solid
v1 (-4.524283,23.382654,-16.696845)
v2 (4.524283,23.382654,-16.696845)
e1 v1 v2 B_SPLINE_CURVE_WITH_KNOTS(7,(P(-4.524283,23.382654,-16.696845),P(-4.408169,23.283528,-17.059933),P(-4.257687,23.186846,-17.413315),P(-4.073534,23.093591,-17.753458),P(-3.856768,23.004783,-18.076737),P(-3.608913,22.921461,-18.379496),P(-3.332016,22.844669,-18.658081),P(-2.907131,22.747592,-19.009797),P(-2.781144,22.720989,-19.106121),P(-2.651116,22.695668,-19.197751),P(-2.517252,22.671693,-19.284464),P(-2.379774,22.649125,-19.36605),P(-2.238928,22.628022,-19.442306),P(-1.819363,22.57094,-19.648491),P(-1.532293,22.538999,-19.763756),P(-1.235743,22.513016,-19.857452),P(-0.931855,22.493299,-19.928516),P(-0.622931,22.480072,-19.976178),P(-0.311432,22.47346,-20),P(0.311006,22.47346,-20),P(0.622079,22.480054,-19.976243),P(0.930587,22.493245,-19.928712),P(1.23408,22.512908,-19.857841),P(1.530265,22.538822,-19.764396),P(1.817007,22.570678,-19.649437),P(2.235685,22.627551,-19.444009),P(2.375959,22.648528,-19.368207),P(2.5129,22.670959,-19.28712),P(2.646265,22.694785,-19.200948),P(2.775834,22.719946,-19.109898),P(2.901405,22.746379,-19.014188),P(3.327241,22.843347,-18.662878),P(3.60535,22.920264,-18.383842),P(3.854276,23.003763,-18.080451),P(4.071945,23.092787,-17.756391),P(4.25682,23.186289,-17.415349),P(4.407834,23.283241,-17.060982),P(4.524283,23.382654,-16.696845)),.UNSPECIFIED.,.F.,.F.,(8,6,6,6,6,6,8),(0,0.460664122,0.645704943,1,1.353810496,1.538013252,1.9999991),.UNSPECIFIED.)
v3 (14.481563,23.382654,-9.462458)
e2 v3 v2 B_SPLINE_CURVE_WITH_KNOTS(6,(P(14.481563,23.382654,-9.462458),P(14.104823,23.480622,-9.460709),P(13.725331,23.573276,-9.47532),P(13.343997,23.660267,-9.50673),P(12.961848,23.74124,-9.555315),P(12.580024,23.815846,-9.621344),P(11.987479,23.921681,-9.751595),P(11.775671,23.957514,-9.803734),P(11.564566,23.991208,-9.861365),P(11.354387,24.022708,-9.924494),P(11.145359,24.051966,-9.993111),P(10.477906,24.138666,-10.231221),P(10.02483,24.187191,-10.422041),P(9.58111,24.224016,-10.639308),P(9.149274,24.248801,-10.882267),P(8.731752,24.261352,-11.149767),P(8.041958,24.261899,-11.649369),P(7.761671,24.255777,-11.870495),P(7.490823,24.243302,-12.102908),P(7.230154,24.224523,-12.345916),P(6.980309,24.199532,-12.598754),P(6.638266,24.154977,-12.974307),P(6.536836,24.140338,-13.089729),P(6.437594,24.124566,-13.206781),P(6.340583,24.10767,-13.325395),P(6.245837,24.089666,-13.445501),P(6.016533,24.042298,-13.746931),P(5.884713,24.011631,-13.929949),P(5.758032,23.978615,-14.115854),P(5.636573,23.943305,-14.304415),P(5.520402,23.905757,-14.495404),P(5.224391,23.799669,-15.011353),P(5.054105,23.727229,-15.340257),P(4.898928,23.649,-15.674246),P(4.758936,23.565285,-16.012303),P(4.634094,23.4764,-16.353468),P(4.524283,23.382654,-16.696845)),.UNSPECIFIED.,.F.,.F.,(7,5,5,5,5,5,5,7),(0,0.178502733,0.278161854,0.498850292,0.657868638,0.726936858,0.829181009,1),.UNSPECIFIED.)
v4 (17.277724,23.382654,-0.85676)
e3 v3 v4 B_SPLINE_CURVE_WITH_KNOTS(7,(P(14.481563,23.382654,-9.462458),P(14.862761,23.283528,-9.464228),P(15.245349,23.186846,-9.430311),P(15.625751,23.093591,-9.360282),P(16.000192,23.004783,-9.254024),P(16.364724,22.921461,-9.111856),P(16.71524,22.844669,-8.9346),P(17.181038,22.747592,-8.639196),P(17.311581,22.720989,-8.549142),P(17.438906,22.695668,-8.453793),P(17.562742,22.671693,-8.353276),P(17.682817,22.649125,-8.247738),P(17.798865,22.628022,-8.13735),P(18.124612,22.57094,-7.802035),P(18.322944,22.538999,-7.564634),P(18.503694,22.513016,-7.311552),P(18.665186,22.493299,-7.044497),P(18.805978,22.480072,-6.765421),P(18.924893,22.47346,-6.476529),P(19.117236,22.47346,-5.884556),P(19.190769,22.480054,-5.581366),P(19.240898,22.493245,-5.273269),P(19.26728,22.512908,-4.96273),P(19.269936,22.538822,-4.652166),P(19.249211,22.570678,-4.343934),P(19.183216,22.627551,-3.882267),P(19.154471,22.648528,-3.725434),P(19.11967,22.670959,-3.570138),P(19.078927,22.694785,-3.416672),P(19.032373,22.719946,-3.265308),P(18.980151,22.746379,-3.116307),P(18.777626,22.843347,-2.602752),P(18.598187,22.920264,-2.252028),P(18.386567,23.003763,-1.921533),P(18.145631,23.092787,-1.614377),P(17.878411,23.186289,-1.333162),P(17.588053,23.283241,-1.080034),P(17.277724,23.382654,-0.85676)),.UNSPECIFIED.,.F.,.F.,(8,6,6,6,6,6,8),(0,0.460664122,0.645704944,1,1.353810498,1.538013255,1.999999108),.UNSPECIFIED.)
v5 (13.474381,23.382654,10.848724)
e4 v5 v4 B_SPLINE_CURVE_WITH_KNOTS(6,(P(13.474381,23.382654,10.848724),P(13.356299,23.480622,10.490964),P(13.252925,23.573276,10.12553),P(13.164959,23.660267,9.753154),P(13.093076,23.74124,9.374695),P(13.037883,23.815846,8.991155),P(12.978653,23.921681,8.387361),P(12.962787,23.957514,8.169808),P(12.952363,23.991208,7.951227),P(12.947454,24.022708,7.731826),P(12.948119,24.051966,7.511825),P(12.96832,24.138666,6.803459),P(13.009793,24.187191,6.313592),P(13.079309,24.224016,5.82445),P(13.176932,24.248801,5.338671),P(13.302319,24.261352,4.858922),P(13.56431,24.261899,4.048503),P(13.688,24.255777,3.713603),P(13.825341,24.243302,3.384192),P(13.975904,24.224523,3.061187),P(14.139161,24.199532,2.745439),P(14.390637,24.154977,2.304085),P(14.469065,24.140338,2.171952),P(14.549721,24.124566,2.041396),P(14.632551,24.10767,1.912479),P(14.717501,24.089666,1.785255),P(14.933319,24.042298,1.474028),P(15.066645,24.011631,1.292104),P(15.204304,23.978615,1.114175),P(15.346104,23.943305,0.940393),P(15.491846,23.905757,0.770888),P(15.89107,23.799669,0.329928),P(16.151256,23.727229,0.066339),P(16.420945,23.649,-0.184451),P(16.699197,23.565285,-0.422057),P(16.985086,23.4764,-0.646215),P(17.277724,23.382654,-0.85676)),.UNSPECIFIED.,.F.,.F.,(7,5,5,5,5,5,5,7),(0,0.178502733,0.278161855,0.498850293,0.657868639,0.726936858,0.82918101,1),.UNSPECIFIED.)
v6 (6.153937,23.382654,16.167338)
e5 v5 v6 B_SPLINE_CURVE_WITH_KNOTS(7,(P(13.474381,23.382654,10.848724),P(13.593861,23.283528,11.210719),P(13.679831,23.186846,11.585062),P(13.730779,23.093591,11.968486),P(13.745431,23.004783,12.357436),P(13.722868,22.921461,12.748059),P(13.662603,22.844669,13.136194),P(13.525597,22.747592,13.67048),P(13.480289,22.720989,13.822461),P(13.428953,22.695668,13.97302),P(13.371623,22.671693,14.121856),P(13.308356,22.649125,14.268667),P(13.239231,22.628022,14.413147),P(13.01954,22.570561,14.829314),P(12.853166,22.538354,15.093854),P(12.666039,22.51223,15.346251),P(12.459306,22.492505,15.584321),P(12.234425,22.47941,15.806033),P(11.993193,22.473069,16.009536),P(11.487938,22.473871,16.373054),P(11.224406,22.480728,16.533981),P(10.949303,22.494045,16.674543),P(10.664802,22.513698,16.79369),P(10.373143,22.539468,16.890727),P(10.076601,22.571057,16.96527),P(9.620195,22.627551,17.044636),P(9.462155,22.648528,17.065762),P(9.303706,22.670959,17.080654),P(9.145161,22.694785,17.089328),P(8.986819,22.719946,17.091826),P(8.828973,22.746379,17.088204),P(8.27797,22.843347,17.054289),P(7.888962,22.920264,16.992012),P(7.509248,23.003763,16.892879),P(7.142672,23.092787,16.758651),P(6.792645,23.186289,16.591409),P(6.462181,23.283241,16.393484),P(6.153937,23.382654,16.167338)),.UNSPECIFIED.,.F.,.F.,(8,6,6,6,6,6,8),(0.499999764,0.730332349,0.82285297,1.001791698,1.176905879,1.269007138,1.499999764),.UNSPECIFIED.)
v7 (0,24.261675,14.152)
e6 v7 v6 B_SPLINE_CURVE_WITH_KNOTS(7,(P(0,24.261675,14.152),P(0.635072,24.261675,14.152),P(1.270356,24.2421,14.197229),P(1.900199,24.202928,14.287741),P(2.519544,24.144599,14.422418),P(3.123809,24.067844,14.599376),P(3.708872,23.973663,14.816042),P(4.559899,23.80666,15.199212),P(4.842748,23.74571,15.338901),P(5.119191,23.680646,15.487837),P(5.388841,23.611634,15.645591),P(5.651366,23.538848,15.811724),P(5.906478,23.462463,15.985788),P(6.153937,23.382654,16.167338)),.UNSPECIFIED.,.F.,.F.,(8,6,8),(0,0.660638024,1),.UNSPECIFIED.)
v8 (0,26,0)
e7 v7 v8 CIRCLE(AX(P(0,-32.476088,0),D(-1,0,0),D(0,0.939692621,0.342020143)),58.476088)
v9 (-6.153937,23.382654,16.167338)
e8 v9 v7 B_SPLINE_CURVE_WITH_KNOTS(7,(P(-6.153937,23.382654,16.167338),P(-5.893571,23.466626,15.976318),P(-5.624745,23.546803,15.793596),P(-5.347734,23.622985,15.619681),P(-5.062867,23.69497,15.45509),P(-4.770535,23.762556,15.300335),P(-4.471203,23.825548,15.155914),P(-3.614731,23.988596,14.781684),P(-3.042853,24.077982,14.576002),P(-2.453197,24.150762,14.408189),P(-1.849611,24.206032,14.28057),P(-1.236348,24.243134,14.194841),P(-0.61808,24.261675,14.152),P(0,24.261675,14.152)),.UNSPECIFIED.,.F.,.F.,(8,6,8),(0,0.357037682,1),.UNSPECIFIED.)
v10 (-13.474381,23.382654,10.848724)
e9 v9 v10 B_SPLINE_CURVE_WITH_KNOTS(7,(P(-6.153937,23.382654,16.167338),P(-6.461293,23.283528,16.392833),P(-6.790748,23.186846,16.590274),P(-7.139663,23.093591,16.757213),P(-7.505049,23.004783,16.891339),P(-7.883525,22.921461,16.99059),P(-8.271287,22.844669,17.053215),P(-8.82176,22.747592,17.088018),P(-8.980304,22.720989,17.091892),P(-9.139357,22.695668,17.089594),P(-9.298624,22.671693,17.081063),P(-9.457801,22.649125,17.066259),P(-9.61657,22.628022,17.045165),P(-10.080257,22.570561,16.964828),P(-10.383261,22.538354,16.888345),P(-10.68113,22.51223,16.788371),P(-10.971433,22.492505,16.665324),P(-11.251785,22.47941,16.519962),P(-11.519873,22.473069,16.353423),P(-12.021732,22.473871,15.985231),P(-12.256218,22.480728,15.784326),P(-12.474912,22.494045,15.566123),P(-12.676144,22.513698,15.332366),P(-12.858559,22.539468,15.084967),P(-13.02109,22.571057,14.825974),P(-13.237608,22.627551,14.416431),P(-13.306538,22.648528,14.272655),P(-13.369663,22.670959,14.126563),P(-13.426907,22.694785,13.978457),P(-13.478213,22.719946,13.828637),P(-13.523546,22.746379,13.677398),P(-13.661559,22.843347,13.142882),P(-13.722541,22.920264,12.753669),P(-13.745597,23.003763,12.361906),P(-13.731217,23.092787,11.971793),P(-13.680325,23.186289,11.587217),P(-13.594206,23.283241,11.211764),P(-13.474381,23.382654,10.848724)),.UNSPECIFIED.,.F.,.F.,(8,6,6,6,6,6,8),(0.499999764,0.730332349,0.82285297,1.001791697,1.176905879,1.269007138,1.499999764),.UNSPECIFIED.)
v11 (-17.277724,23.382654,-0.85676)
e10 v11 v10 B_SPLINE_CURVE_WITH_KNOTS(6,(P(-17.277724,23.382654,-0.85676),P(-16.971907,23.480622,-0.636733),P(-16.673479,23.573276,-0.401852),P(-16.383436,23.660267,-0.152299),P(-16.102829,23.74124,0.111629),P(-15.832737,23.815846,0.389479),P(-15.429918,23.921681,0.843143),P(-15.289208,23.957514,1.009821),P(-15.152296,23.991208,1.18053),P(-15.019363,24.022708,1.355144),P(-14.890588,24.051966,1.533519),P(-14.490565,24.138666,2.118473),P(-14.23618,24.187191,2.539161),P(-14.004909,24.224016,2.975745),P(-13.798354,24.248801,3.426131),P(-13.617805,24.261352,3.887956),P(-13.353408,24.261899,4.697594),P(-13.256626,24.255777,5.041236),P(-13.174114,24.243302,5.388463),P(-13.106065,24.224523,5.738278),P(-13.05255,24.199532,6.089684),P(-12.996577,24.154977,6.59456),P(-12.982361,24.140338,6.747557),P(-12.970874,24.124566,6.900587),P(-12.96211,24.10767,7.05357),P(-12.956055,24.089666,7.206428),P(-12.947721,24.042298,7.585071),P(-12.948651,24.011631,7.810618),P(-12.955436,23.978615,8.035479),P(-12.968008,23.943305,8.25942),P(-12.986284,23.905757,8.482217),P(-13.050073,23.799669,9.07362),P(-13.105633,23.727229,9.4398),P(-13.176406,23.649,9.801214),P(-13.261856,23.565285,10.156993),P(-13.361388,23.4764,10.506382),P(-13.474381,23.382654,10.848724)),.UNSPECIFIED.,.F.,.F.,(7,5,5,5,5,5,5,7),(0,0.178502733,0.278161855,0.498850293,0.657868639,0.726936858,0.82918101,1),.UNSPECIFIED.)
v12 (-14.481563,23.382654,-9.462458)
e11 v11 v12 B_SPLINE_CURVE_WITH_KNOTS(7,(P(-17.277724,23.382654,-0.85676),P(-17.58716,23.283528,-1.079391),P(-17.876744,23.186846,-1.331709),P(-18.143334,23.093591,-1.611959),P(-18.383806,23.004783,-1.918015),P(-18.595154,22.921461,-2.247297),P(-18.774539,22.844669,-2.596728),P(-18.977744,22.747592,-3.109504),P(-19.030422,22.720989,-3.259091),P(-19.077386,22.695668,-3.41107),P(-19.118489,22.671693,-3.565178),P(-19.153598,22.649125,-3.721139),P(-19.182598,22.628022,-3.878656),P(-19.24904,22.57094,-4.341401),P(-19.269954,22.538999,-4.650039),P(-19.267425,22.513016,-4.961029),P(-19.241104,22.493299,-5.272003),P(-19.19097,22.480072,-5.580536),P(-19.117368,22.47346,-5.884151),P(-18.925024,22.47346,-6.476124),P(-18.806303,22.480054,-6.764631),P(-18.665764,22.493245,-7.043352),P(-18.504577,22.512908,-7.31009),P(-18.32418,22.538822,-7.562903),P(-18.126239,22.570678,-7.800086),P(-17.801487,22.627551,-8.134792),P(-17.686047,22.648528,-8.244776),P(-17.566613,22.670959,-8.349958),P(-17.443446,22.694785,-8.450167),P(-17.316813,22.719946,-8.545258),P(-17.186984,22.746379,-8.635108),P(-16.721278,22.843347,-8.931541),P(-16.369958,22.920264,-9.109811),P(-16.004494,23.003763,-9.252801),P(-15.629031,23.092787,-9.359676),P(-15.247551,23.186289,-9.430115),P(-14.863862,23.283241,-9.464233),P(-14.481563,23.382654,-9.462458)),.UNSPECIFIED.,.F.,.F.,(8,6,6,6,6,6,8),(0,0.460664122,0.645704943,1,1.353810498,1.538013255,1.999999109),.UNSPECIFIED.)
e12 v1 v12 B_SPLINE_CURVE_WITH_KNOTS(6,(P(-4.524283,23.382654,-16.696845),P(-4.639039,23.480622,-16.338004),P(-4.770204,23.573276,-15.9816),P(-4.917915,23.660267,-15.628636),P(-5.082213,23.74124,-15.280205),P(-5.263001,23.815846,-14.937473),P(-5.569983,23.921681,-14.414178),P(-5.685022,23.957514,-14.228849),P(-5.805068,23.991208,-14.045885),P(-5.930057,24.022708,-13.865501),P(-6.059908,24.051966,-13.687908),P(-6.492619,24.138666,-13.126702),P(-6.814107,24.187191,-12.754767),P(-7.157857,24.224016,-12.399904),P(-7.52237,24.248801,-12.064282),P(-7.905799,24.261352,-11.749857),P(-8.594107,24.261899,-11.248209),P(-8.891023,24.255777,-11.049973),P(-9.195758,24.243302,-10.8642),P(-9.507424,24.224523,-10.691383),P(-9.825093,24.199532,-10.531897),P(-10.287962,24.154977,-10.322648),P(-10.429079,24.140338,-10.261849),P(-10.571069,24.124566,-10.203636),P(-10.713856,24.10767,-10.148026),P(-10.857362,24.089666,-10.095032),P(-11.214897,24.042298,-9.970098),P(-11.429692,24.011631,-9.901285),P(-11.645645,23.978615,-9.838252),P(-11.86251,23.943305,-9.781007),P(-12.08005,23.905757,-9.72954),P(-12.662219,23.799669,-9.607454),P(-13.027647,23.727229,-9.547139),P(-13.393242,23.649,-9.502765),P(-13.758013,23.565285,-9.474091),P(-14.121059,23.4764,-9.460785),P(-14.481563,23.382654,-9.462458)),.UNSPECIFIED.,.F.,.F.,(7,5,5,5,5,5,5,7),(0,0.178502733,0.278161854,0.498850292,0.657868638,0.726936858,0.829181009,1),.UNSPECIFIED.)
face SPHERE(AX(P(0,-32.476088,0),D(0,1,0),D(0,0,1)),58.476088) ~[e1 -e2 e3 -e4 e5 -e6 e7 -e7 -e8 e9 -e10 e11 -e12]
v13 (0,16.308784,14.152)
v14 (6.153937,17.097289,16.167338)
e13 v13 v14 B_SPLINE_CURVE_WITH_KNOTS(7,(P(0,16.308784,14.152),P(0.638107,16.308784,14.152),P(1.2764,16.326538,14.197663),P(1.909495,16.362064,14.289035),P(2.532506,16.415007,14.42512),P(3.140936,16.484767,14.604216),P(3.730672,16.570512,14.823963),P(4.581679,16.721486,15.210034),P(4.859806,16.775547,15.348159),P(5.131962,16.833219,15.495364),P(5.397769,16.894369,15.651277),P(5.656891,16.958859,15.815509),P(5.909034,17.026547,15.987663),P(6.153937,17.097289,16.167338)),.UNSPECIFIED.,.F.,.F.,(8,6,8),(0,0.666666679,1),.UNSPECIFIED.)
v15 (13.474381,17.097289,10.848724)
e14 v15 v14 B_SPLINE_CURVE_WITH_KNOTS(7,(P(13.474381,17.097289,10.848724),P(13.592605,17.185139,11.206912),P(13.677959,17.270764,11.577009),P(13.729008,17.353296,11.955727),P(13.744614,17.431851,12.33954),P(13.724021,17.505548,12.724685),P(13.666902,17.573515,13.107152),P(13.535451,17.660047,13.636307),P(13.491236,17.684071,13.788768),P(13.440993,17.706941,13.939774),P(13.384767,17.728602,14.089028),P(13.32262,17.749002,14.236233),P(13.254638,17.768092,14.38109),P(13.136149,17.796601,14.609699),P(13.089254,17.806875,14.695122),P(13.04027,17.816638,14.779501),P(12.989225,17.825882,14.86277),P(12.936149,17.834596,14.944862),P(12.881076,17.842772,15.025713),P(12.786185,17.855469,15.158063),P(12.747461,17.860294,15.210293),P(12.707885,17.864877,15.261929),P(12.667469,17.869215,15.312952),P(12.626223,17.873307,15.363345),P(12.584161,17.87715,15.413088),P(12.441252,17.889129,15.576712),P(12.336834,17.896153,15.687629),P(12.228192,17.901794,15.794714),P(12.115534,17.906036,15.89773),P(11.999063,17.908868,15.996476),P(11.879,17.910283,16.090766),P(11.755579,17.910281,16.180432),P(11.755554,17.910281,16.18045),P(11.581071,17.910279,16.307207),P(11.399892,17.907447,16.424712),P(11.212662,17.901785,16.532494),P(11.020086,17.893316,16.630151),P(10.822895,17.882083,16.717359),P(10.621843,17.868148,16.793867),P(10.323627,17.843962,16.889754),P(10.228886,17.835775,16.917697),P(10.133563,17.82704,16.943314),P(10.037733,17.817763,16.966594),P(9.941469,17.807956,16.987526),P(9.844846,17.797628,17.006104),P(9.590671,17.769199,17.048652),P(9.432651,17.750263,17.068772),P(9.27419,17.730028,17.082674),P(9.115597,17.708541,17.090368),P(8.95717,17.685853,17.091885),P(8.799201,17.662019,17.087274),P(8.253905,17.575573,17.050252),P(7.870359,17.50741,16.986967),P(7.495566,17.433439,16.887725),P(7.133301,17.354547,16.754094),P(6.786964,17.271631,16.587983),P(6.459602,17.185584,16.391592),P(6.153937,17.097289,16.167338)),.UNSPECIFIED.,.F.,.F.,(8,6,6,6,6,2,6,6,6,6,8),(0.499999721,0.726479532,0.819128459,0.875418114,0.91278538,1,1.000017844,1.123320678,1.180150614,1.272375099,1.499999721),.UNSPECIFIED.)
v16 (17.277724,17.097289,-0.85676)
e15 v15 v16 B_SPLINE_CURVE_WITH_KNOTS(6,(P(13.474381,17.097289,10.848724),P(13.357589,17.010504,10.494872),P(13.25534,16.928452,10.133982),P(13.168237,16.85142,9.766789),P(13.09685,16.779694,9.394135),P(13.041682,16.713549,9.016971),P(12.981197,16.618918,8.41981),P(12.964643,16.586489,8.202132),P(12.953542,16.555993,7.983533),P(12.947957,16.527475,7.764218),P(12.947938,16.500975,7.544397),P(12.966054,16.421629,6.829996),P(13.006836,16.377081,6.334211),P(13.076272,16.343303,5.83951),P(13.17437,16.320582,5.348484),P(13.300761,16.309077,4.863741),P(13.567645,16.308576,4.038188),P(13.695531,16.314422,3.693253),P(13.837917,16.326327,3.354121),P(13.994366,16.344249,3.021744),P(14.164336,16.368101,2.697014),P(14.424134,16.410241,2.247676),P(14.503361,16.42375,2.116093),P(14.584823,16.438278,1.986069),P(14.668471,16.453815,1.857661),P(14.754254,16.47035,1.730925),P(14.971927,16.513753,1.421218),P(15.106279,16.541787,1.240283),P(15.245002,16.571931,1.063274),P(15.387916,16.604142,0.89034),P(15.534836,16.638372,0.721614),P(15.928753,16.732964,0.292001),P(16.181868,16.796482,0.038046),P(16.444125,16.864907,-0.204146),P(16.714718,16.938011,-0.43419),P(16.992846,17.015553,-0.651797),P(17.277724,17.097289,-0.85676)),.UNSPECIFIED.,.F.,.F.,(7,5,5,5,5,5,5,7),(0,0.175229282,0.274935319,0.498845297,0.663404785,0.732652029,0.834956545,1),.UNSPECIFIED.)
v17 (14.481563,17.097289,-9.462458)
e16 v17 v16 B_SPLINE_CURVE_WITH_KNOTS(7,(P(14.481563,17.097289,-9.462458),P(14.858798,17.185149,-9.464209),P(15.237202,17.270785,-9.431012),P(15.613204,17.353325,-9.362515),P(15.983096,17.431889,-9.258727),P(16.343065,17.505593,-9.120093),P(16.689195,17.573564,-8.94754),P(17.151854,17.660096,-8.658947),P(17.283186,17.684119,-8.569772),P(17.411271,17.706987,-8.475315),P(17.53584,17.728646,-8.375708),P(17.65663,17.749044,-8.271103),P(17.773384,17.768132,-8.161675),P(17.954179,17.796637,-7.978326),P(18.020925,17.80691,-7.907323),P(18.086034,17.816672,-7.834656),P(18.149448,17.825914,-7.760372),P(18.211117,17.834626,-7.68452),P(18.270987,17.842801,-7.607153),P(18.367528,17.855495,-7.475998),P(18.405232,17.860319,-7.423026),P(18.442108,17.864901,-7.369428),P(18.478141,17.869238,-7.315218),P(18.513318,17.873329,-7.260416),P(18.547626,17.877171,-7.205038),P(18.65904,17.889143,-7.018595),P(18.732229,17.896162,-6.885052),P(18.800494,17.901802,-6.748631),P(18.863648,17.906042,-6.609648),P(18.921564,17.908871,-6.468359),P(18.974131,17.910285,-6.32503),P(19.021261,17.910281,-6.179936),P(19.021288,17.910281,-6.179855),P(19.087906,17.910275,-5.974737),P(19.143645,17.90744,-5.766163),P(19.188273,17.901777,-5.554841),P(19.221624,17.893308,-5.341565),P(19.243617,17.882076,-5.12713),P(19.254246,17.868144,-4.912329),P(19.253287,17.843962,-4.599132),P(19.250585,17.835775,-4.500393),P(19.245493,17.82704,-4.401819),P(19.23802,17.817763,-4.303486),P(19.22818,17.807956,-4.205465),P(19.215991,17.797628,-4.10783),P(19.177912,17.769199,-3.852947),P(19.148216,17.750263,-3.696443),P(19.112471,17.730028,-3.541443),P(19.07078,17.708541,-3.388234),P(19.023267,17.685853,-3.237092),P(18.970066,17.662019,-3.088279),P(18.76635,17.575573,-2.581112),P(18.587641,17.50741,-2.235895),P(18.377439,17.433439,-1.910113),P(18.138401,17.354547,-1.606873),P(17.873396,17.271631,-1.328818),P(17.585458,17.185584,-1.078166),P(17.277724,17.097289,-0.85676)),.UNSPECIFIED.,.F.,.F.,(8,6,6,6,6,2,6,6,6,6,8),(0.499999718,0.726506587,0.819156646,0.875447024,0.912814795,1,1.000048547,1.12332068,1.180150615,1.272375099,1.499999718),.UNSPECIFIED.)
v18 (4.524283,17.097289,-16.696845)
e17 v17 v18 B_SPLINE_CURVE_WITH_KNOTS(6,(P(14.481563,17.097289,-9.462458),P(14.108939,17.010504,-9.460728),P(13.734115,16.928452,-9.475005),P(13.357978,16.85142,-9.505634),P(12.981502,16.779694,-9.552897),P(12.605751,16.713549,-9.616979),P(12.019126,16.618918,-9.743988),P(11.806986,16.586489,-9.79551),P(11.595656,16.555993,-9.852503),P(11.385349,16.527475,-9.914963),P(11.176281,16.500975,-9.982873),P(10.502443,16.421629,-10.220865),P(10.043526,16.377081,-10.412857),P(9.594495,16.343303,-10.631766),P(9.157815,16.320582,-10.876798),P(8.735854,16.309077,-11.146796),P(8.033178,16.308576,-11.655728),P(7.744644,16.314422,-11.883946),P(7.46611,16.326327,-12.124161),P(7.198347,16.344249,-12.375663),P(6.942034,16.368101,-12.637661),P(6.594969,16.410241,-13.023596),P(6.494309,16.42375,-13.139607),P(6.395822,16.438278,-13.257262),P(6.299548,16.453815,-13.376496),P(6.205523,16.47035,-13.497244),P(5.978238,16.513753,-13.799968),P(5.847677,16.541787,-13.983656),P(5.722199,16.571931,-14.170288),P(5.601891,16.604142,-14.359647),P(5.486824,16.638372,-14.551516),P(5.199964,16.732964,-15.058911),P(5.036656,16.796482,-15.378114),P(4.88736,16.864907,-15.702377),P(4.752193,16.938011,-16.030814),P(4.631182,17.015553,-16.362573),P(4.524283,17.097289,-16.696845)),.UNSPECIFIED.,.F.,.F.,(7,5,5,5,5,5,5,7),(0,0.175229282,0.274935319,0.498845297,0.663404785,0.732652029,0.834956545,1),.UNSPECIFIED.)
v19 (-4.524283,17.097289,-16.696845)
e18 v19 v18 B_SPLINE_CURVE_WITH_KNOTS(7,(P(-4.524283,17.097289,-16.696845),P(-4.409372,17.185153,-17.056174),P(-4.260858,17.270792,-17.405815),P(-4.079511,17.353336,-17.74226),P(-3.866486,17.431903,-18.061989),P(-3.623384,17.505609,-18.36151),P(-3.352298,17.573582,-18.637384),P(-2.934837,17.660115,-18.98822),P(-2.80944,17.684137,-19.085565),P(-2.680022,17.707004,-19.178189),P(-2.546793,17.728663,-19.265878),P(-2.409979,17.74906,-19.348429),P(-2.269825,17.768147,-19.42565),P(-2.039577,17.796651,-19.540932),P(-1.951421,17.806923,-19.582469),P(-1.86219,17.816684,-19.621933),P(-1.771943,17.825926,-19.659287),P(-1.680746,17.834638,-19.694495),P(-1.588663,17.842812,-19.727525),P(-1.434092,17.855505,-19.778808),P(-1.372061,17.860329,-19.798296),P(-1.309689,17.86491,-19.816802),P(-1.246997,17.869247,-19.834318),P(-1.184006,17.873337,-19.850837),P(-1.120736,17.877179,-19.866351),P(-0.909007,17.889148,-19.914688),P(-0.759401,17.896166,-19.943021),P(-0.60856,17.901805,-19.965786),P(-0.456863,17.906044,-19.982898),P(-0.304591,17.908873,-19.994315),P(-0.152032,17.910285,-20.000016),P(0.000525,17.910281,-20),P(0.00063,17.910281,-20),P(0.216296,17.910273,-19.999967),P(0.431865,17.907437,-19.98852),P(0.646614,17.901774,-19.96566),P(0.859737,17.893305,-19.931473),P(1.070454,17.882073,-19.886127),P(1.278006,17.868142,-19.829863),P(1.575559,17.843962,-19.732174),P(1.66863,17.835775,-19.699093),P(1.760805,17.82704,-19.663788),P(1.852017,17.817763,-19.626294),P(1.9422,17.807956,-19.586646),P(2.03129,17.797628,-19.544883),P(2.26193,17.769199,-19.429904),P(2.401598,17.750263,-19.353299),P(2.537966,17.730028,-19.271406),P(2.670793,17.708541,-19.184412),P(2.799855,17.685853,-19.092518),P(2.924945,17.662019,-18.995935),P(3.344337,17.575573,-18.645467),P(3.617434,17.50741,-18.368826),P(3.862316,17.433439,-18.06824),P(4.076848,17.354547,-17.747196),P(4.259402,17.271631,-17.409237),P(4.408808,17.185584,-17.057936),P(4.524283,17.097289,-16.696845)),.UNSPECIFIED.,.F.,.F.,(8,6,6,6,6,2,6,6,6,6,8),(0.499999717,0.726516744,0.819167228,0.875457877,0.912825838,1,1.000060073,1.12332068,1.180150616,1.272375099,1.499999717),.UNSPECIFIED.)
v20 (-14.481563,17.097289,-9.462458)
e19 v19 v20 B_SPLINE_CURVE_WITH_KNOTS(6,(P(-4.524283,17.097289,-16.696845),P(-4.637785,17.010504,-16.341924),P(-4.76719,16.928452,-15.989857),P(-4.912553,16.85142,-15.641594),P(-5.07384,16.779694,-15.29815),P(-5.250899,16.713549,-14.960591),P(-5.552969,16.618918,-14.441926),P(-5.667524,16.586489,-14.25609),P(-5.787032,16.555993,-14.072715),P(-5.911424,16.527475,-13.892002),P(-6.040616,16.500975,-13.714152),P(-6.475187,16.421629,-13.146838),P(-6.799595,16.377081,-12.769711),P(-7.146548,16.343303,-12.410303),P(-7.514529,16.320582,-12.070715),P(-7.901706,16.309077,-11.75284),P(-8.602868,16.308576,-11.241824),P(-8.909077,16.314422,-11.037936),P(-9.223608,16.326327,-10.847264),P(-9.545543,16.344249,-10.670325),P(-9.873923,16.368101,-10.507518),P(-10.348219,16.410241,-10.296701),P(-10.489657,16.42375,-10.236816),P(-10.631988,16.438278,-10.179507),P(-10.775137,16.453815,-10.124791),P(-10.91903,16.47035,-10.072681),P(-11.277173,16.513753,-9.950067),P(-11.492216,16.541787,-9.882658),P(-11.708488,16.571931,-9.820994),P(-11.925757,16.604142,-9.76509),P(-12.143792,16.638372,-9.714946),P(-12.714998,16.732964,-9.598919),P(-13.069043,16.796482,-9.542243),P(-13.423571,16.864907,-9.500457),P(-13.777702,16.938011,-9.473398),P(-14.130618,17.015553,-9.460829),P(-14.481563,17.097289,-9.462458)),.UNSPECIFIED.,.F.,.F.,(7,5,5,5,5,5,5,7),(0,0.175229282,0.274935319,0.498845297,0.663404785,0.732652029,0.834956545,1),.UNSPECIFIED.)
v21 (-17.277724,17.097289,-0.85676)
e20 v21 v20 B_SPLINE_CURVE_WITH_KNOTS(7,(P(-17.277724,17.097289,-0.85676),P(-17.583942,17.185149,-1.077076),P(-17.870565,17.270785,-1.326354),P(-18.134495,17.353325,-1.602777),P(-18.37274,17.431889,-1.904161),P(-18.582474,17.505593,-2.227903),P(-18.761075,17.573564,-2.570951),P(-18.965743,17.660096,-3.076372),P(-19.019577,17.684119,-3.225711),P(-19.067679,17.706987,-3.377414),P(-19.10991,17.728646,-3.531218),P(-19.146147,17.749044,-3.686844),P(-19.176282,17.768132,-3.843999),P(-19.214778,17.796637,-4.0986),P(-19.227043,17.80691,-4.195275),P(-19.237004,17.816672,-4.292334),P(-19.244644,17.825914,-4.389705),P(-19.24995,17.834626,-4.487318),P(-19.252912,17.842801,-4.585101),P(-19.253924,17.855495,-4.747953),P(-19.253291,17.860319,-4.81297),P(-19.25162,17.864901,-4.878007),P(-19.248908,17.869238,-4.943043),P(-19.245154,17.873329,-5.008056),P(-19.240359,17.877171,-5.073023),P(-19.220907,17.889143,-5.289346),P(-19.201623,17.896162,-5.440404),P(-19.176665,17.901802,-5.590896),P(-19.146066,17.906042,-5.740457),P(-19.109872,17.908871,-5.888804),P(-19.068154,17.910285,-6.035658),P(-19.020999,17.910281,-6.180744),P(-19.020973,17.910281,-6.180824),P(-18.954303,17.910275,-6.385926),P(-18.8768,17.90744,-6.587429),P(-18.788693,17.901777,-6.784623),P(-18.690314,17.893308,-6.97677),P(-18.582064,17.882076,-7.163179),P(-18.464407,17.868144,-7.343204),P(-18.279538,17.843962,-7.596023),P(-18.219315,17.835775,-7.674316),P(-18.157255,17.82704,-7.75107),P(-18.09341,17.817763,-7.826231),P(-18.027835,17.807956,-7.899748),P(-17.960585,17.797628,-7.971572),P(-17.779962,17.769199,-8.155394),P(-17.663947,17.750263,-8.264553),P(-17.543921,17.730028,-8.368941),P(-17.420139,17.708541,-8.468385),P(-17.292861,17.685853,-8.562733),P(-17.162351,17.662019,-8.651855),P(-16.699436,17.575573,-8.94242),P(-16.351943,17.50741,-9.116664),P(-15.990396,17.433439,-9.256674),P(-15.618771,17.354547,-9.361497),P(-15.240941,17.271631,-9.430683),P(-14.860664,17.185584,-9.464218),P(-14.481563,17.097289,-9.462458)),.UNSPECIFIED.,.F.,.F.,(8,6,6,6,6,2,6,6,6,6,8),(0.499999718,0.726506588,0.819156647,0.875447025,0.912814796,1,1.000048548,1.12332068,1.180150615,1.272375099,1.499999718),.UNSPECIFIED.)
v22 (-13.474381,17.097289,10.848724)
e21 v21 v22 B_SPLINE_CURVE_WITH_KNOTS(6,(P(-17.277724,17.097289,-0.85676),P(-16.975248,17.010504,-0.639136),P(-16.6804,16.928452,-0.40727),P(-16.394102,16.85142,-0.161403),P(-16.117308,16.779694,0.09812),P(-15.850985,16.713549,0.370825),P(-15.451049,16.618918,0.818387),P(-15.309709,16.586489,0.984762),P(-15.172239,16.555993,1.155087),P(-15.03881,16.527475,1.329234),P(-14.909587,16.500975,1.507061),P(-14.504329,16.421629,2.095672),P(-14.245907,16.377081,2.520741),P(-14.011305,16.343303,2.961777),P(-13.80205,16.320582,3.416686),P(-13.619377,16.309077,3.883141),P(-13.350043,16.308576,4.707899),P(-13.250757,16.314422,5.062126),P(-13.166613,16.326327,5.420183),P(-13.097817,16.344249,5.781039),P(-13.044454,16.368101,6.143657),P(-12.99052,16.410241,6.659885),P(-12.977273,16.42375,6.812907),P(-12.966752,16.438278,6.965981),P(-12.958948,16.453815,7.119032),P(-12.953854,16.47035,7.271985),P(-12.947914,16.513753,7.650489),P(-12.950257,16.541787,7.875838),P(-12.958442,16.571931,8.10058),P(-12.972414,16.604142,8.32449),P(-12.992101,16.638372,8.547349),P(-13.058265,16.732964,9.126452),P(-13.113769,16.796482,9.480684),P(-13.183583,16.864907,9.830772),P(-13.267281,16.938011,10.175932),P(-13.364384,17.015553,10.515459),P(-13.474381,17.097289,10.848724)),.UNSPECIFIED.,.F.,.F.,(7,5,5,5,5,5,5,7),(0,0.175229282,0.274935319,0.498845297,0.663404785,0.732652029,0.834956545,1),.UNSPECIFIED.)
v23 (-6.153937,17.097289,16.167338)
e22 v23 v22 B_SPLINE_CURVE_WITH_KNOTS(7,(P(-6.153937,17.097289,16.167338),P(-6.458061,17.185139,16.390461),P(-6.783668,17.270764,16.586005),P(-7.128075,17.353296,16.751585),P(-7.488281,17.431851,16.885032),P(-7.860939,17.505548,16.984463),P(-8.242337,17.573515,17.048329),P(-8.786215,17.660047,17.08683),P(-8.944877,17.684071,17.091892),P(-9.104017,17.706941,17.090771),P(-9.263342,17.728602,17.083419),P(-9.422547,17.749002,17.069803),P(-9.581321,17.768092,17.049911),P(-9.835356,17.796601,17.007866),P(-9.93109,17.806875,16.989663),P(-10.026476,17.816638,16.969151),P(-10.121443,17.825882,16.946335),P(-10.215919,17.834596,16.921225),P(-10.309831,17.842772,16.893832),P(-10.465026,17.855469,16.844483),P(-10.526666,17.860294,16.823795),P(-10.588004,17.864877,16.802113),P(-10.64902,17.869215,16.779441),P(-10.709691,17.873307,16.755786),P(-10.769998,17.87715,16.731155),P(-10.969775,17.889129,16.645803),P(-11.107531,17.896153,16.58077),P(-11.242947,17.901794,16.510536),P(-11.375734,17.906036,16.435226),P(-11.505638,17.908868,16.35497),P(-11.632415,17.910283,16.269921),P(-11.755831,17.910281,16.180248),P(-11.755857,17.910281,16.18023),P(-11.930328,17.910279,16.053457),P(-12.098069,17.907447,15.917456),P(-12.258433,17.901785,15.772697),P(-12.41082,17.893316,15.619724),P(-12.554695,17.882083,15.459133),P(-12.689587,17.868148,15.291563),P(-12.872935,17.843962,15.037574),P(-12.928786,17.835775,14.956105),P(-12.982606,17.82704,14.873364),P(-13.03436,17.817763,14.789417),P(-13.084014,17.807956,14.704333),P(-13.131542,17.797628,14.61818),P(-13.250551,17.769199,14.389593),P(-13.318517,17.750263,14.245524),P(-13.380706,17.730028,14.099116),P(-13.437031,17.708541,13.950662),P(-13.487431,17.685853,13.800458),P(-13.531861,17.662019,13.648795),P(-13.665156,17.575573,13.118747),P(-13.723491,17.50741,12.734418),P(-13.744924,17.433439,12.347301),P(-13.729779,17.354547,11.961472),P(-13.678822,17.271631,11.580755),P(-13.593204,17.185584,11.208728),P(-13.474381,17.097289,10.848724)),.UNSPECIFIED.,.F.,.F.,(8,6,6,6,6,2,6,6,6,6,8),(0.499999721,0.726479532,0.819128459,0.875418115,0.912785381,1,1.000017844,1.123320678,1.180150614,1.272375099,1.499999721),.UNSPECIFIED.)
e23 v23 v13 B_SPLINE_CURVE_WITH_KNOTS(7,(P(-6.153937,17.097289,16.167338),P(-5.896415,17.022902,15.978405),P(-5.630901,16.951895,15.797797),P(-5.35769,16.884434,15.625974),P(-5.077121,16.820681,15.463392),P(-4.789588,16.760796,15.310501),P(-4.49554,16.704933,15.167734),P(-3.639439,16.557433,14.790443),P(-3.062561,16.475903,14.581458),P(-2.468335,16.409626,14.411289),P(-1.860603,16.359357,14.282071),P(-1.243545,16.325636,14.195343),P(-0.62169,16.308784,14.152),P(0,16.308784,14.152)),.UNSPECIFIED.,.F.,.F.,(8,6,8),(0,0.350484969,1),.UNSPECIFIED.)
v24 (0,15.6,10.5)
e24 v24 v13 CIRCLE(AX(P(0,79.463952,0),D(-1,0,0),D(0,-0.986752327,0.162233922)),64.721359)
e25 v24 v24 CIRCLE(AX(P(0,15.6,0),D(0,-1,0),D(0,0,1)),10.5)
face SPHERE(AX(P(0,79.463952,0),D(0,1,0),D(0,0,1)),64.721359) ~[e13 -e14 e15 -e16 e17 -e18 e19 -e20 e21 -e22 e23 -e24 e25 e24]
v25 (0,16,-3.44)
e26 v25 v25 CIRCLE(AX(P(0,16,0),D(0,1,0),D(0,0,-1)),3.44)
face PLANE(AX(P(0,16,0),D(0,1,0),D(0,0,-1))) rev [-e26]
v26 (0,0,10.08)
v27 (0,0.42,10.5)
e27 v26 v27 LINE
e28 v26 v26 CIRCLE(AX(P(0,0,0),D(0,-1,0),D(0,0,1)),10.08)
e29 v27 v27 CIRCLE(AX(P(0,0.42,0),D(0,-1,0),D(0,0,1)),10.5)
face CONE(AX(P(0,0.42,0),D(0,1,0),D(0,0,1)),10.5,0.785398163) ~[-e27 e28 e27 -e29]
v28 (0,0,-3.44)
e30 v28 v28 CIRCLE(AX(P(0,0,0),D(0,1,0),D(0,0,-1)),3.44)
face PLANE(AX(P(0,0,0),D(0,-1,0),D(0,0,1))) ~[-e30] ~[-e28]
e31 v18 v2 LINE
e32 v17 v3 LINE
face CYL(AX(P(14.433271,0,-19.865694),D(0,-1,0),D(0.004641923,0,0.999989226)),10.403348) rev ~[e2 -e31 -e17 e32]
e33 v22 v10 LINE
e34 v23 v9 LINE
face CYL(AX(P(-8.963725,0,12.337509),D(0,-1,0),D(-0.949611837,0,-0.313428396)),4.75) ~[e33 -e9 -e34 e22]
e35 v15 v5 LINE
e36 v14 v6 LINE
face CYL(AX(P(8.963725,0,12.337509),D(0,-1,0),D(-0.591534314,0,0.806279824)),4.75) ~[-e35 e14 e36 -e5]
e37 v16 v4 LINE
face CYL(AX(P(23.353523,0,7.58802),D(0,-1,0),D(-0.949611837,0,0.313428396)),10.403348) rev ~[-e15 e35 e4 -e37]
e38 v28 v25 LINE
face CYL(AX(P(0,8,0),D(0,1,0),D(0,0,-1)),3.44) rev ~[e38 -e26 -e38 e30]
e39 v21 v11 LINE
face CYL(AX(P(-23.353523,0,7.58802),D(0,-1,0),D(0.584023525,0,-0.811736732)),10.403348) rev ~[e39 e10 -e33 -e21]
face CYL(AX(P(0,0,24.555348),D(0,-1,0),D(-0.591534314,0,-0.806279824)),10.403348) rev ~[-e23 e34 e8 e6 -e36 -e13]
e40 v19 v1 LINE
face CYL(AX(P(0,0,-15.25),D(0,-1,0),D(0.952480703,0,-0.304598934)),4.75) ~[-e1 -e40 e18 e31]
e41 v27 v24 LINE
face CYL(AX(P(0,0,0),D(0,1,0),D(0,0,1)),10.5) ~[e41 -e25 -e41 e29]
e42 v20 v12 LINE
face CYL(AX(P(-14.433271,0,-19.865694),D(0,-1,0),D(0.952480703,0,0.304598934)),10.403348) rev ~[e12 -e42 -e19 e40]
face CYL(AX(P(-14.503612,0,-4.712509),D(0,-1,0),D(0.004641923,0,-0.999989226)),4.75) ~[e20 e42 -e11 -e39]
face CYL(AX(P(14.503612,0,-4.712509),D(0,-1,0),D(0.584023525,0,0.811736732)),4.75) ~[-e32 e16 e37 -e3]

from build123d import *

# Parameters (mm, degrees)
SKETCH_2_R          = 21
CUT_EXTRUDE_1_DEPTH = 39.418745425
SKETCH_3_W          = 3.44
SKETCH_3_H          = 16
CHAMFER_1_SIZE      = 0.42


with BuildPart() as part:
    # 草图1 → 旋转1 (revolve)
    with BuildSketch(Plane.XY, mode=Mode.PRIVATE) as revolve_1_sk:
        with BuildLine():
            Line((0, 0), (-10.5, 0))
            Line((-10.5, 0), (-10.5, 15.6))
            ThreePointArc((-10.5, 15.6), (-15.293686607, 16.575499043), (-20, 17.910281389))
            Line((-20, 17.910281389), (-20, 22.473460386))
            ThreePointArc((-20, 22.473460386), (-10.154266119, 25.111616828), (0, 26))
            Line((0, 26), (0, 0))
        make_face()
    revolve(revolve_1_sk.sketch.rotate(Axis((0, 26, 0), (0, -1, 0)), 270), axis=Axis((0, 26, 0), (0, -1, 0)))

    # 草图2 → 切除-拉伸1 (cut, through all)
    with BuildSketch(Plane(origin=(0, 0, 0), x_dir=(1, 0, 0), z_dir=(0, 1, 0))):
        Circle(SKETCH_2_R)
        with BuildLine():
            ThreePointArc((4.524283339, 16.696844937), (0, 20), (-4.524283339, 16.696844937))
            ThreePointArc((-4.524283339, 16.696844937), (-8.31833689, 11.449208504), (-14.48156274, 9.462457989))
            ThreePointArc((-14.48156274, 9.462457989), (-19.021130326, 6.180339887), (-17.277723618, 0.856759687))
            ThreePointArc((-17.277723618, 0.856759687), (-13.459351819, -4.373208504), (-13.474381322, -10.848724283))
            ThreePointArc((-13.474381322, -10.848724283), (-11.755705046, -16.180339887), (-6.153937105, -16.16733833))
            ThreePointArc((-6.153937105, -16.16733833), (0, -14.152), (6.153937105, -16.16733833))
            ThreePointArc((6.153937105, -16.16733833), (11.755705046, -16.180339887), (13.474381322, -10.848724283))
            ThreePointArc((13.474381322, -10.848724283), (13.459351819, -4.373208504), (17.277723618, 0.856759687))
            ThreePointArc((17.277723618, 0.856759687), (19.021130326, 6.180339887), (14.48156274, 9.462457989))
            ThreePointArc((14.48156274, 9.462457989), (8.31833689, 11.449208504), (4.524283339, 16.696844937))
        make_face(mode=Mode.SUBTRACT)
    extrude(amount=CUT_EXTRUDE_1_DEPTH, mode=Mode.SUBTRACT)

    # 草图3 → 切除-旋转1 (revolve, cut)
    with BuildSketch(Plane.XY, mode=Mode.PRIVATE) as cut_revolve_1_sk:
        with Locations((1.72, 8)):
            Rectangle(SKETCH_3_W, SKETCH_3_H)
    revolve(cut_revolve_1_sk.sketch.rotate(Axis((0, 0, 0), (0, 1, 0)), 90), axis=Axis((0, 0, 0), (0, 1, 0)), mode=Mode.SUBTRACT)

    # 倒角1
    chamfer_1_edges = [part.edges().sort_by_distance(p)[0] for p in [
        (0, 0, -10.5),
    ]]
    chamfer(chamfer_1_edges, length=CHAMFER_1_SIZE)


solid = part.part
